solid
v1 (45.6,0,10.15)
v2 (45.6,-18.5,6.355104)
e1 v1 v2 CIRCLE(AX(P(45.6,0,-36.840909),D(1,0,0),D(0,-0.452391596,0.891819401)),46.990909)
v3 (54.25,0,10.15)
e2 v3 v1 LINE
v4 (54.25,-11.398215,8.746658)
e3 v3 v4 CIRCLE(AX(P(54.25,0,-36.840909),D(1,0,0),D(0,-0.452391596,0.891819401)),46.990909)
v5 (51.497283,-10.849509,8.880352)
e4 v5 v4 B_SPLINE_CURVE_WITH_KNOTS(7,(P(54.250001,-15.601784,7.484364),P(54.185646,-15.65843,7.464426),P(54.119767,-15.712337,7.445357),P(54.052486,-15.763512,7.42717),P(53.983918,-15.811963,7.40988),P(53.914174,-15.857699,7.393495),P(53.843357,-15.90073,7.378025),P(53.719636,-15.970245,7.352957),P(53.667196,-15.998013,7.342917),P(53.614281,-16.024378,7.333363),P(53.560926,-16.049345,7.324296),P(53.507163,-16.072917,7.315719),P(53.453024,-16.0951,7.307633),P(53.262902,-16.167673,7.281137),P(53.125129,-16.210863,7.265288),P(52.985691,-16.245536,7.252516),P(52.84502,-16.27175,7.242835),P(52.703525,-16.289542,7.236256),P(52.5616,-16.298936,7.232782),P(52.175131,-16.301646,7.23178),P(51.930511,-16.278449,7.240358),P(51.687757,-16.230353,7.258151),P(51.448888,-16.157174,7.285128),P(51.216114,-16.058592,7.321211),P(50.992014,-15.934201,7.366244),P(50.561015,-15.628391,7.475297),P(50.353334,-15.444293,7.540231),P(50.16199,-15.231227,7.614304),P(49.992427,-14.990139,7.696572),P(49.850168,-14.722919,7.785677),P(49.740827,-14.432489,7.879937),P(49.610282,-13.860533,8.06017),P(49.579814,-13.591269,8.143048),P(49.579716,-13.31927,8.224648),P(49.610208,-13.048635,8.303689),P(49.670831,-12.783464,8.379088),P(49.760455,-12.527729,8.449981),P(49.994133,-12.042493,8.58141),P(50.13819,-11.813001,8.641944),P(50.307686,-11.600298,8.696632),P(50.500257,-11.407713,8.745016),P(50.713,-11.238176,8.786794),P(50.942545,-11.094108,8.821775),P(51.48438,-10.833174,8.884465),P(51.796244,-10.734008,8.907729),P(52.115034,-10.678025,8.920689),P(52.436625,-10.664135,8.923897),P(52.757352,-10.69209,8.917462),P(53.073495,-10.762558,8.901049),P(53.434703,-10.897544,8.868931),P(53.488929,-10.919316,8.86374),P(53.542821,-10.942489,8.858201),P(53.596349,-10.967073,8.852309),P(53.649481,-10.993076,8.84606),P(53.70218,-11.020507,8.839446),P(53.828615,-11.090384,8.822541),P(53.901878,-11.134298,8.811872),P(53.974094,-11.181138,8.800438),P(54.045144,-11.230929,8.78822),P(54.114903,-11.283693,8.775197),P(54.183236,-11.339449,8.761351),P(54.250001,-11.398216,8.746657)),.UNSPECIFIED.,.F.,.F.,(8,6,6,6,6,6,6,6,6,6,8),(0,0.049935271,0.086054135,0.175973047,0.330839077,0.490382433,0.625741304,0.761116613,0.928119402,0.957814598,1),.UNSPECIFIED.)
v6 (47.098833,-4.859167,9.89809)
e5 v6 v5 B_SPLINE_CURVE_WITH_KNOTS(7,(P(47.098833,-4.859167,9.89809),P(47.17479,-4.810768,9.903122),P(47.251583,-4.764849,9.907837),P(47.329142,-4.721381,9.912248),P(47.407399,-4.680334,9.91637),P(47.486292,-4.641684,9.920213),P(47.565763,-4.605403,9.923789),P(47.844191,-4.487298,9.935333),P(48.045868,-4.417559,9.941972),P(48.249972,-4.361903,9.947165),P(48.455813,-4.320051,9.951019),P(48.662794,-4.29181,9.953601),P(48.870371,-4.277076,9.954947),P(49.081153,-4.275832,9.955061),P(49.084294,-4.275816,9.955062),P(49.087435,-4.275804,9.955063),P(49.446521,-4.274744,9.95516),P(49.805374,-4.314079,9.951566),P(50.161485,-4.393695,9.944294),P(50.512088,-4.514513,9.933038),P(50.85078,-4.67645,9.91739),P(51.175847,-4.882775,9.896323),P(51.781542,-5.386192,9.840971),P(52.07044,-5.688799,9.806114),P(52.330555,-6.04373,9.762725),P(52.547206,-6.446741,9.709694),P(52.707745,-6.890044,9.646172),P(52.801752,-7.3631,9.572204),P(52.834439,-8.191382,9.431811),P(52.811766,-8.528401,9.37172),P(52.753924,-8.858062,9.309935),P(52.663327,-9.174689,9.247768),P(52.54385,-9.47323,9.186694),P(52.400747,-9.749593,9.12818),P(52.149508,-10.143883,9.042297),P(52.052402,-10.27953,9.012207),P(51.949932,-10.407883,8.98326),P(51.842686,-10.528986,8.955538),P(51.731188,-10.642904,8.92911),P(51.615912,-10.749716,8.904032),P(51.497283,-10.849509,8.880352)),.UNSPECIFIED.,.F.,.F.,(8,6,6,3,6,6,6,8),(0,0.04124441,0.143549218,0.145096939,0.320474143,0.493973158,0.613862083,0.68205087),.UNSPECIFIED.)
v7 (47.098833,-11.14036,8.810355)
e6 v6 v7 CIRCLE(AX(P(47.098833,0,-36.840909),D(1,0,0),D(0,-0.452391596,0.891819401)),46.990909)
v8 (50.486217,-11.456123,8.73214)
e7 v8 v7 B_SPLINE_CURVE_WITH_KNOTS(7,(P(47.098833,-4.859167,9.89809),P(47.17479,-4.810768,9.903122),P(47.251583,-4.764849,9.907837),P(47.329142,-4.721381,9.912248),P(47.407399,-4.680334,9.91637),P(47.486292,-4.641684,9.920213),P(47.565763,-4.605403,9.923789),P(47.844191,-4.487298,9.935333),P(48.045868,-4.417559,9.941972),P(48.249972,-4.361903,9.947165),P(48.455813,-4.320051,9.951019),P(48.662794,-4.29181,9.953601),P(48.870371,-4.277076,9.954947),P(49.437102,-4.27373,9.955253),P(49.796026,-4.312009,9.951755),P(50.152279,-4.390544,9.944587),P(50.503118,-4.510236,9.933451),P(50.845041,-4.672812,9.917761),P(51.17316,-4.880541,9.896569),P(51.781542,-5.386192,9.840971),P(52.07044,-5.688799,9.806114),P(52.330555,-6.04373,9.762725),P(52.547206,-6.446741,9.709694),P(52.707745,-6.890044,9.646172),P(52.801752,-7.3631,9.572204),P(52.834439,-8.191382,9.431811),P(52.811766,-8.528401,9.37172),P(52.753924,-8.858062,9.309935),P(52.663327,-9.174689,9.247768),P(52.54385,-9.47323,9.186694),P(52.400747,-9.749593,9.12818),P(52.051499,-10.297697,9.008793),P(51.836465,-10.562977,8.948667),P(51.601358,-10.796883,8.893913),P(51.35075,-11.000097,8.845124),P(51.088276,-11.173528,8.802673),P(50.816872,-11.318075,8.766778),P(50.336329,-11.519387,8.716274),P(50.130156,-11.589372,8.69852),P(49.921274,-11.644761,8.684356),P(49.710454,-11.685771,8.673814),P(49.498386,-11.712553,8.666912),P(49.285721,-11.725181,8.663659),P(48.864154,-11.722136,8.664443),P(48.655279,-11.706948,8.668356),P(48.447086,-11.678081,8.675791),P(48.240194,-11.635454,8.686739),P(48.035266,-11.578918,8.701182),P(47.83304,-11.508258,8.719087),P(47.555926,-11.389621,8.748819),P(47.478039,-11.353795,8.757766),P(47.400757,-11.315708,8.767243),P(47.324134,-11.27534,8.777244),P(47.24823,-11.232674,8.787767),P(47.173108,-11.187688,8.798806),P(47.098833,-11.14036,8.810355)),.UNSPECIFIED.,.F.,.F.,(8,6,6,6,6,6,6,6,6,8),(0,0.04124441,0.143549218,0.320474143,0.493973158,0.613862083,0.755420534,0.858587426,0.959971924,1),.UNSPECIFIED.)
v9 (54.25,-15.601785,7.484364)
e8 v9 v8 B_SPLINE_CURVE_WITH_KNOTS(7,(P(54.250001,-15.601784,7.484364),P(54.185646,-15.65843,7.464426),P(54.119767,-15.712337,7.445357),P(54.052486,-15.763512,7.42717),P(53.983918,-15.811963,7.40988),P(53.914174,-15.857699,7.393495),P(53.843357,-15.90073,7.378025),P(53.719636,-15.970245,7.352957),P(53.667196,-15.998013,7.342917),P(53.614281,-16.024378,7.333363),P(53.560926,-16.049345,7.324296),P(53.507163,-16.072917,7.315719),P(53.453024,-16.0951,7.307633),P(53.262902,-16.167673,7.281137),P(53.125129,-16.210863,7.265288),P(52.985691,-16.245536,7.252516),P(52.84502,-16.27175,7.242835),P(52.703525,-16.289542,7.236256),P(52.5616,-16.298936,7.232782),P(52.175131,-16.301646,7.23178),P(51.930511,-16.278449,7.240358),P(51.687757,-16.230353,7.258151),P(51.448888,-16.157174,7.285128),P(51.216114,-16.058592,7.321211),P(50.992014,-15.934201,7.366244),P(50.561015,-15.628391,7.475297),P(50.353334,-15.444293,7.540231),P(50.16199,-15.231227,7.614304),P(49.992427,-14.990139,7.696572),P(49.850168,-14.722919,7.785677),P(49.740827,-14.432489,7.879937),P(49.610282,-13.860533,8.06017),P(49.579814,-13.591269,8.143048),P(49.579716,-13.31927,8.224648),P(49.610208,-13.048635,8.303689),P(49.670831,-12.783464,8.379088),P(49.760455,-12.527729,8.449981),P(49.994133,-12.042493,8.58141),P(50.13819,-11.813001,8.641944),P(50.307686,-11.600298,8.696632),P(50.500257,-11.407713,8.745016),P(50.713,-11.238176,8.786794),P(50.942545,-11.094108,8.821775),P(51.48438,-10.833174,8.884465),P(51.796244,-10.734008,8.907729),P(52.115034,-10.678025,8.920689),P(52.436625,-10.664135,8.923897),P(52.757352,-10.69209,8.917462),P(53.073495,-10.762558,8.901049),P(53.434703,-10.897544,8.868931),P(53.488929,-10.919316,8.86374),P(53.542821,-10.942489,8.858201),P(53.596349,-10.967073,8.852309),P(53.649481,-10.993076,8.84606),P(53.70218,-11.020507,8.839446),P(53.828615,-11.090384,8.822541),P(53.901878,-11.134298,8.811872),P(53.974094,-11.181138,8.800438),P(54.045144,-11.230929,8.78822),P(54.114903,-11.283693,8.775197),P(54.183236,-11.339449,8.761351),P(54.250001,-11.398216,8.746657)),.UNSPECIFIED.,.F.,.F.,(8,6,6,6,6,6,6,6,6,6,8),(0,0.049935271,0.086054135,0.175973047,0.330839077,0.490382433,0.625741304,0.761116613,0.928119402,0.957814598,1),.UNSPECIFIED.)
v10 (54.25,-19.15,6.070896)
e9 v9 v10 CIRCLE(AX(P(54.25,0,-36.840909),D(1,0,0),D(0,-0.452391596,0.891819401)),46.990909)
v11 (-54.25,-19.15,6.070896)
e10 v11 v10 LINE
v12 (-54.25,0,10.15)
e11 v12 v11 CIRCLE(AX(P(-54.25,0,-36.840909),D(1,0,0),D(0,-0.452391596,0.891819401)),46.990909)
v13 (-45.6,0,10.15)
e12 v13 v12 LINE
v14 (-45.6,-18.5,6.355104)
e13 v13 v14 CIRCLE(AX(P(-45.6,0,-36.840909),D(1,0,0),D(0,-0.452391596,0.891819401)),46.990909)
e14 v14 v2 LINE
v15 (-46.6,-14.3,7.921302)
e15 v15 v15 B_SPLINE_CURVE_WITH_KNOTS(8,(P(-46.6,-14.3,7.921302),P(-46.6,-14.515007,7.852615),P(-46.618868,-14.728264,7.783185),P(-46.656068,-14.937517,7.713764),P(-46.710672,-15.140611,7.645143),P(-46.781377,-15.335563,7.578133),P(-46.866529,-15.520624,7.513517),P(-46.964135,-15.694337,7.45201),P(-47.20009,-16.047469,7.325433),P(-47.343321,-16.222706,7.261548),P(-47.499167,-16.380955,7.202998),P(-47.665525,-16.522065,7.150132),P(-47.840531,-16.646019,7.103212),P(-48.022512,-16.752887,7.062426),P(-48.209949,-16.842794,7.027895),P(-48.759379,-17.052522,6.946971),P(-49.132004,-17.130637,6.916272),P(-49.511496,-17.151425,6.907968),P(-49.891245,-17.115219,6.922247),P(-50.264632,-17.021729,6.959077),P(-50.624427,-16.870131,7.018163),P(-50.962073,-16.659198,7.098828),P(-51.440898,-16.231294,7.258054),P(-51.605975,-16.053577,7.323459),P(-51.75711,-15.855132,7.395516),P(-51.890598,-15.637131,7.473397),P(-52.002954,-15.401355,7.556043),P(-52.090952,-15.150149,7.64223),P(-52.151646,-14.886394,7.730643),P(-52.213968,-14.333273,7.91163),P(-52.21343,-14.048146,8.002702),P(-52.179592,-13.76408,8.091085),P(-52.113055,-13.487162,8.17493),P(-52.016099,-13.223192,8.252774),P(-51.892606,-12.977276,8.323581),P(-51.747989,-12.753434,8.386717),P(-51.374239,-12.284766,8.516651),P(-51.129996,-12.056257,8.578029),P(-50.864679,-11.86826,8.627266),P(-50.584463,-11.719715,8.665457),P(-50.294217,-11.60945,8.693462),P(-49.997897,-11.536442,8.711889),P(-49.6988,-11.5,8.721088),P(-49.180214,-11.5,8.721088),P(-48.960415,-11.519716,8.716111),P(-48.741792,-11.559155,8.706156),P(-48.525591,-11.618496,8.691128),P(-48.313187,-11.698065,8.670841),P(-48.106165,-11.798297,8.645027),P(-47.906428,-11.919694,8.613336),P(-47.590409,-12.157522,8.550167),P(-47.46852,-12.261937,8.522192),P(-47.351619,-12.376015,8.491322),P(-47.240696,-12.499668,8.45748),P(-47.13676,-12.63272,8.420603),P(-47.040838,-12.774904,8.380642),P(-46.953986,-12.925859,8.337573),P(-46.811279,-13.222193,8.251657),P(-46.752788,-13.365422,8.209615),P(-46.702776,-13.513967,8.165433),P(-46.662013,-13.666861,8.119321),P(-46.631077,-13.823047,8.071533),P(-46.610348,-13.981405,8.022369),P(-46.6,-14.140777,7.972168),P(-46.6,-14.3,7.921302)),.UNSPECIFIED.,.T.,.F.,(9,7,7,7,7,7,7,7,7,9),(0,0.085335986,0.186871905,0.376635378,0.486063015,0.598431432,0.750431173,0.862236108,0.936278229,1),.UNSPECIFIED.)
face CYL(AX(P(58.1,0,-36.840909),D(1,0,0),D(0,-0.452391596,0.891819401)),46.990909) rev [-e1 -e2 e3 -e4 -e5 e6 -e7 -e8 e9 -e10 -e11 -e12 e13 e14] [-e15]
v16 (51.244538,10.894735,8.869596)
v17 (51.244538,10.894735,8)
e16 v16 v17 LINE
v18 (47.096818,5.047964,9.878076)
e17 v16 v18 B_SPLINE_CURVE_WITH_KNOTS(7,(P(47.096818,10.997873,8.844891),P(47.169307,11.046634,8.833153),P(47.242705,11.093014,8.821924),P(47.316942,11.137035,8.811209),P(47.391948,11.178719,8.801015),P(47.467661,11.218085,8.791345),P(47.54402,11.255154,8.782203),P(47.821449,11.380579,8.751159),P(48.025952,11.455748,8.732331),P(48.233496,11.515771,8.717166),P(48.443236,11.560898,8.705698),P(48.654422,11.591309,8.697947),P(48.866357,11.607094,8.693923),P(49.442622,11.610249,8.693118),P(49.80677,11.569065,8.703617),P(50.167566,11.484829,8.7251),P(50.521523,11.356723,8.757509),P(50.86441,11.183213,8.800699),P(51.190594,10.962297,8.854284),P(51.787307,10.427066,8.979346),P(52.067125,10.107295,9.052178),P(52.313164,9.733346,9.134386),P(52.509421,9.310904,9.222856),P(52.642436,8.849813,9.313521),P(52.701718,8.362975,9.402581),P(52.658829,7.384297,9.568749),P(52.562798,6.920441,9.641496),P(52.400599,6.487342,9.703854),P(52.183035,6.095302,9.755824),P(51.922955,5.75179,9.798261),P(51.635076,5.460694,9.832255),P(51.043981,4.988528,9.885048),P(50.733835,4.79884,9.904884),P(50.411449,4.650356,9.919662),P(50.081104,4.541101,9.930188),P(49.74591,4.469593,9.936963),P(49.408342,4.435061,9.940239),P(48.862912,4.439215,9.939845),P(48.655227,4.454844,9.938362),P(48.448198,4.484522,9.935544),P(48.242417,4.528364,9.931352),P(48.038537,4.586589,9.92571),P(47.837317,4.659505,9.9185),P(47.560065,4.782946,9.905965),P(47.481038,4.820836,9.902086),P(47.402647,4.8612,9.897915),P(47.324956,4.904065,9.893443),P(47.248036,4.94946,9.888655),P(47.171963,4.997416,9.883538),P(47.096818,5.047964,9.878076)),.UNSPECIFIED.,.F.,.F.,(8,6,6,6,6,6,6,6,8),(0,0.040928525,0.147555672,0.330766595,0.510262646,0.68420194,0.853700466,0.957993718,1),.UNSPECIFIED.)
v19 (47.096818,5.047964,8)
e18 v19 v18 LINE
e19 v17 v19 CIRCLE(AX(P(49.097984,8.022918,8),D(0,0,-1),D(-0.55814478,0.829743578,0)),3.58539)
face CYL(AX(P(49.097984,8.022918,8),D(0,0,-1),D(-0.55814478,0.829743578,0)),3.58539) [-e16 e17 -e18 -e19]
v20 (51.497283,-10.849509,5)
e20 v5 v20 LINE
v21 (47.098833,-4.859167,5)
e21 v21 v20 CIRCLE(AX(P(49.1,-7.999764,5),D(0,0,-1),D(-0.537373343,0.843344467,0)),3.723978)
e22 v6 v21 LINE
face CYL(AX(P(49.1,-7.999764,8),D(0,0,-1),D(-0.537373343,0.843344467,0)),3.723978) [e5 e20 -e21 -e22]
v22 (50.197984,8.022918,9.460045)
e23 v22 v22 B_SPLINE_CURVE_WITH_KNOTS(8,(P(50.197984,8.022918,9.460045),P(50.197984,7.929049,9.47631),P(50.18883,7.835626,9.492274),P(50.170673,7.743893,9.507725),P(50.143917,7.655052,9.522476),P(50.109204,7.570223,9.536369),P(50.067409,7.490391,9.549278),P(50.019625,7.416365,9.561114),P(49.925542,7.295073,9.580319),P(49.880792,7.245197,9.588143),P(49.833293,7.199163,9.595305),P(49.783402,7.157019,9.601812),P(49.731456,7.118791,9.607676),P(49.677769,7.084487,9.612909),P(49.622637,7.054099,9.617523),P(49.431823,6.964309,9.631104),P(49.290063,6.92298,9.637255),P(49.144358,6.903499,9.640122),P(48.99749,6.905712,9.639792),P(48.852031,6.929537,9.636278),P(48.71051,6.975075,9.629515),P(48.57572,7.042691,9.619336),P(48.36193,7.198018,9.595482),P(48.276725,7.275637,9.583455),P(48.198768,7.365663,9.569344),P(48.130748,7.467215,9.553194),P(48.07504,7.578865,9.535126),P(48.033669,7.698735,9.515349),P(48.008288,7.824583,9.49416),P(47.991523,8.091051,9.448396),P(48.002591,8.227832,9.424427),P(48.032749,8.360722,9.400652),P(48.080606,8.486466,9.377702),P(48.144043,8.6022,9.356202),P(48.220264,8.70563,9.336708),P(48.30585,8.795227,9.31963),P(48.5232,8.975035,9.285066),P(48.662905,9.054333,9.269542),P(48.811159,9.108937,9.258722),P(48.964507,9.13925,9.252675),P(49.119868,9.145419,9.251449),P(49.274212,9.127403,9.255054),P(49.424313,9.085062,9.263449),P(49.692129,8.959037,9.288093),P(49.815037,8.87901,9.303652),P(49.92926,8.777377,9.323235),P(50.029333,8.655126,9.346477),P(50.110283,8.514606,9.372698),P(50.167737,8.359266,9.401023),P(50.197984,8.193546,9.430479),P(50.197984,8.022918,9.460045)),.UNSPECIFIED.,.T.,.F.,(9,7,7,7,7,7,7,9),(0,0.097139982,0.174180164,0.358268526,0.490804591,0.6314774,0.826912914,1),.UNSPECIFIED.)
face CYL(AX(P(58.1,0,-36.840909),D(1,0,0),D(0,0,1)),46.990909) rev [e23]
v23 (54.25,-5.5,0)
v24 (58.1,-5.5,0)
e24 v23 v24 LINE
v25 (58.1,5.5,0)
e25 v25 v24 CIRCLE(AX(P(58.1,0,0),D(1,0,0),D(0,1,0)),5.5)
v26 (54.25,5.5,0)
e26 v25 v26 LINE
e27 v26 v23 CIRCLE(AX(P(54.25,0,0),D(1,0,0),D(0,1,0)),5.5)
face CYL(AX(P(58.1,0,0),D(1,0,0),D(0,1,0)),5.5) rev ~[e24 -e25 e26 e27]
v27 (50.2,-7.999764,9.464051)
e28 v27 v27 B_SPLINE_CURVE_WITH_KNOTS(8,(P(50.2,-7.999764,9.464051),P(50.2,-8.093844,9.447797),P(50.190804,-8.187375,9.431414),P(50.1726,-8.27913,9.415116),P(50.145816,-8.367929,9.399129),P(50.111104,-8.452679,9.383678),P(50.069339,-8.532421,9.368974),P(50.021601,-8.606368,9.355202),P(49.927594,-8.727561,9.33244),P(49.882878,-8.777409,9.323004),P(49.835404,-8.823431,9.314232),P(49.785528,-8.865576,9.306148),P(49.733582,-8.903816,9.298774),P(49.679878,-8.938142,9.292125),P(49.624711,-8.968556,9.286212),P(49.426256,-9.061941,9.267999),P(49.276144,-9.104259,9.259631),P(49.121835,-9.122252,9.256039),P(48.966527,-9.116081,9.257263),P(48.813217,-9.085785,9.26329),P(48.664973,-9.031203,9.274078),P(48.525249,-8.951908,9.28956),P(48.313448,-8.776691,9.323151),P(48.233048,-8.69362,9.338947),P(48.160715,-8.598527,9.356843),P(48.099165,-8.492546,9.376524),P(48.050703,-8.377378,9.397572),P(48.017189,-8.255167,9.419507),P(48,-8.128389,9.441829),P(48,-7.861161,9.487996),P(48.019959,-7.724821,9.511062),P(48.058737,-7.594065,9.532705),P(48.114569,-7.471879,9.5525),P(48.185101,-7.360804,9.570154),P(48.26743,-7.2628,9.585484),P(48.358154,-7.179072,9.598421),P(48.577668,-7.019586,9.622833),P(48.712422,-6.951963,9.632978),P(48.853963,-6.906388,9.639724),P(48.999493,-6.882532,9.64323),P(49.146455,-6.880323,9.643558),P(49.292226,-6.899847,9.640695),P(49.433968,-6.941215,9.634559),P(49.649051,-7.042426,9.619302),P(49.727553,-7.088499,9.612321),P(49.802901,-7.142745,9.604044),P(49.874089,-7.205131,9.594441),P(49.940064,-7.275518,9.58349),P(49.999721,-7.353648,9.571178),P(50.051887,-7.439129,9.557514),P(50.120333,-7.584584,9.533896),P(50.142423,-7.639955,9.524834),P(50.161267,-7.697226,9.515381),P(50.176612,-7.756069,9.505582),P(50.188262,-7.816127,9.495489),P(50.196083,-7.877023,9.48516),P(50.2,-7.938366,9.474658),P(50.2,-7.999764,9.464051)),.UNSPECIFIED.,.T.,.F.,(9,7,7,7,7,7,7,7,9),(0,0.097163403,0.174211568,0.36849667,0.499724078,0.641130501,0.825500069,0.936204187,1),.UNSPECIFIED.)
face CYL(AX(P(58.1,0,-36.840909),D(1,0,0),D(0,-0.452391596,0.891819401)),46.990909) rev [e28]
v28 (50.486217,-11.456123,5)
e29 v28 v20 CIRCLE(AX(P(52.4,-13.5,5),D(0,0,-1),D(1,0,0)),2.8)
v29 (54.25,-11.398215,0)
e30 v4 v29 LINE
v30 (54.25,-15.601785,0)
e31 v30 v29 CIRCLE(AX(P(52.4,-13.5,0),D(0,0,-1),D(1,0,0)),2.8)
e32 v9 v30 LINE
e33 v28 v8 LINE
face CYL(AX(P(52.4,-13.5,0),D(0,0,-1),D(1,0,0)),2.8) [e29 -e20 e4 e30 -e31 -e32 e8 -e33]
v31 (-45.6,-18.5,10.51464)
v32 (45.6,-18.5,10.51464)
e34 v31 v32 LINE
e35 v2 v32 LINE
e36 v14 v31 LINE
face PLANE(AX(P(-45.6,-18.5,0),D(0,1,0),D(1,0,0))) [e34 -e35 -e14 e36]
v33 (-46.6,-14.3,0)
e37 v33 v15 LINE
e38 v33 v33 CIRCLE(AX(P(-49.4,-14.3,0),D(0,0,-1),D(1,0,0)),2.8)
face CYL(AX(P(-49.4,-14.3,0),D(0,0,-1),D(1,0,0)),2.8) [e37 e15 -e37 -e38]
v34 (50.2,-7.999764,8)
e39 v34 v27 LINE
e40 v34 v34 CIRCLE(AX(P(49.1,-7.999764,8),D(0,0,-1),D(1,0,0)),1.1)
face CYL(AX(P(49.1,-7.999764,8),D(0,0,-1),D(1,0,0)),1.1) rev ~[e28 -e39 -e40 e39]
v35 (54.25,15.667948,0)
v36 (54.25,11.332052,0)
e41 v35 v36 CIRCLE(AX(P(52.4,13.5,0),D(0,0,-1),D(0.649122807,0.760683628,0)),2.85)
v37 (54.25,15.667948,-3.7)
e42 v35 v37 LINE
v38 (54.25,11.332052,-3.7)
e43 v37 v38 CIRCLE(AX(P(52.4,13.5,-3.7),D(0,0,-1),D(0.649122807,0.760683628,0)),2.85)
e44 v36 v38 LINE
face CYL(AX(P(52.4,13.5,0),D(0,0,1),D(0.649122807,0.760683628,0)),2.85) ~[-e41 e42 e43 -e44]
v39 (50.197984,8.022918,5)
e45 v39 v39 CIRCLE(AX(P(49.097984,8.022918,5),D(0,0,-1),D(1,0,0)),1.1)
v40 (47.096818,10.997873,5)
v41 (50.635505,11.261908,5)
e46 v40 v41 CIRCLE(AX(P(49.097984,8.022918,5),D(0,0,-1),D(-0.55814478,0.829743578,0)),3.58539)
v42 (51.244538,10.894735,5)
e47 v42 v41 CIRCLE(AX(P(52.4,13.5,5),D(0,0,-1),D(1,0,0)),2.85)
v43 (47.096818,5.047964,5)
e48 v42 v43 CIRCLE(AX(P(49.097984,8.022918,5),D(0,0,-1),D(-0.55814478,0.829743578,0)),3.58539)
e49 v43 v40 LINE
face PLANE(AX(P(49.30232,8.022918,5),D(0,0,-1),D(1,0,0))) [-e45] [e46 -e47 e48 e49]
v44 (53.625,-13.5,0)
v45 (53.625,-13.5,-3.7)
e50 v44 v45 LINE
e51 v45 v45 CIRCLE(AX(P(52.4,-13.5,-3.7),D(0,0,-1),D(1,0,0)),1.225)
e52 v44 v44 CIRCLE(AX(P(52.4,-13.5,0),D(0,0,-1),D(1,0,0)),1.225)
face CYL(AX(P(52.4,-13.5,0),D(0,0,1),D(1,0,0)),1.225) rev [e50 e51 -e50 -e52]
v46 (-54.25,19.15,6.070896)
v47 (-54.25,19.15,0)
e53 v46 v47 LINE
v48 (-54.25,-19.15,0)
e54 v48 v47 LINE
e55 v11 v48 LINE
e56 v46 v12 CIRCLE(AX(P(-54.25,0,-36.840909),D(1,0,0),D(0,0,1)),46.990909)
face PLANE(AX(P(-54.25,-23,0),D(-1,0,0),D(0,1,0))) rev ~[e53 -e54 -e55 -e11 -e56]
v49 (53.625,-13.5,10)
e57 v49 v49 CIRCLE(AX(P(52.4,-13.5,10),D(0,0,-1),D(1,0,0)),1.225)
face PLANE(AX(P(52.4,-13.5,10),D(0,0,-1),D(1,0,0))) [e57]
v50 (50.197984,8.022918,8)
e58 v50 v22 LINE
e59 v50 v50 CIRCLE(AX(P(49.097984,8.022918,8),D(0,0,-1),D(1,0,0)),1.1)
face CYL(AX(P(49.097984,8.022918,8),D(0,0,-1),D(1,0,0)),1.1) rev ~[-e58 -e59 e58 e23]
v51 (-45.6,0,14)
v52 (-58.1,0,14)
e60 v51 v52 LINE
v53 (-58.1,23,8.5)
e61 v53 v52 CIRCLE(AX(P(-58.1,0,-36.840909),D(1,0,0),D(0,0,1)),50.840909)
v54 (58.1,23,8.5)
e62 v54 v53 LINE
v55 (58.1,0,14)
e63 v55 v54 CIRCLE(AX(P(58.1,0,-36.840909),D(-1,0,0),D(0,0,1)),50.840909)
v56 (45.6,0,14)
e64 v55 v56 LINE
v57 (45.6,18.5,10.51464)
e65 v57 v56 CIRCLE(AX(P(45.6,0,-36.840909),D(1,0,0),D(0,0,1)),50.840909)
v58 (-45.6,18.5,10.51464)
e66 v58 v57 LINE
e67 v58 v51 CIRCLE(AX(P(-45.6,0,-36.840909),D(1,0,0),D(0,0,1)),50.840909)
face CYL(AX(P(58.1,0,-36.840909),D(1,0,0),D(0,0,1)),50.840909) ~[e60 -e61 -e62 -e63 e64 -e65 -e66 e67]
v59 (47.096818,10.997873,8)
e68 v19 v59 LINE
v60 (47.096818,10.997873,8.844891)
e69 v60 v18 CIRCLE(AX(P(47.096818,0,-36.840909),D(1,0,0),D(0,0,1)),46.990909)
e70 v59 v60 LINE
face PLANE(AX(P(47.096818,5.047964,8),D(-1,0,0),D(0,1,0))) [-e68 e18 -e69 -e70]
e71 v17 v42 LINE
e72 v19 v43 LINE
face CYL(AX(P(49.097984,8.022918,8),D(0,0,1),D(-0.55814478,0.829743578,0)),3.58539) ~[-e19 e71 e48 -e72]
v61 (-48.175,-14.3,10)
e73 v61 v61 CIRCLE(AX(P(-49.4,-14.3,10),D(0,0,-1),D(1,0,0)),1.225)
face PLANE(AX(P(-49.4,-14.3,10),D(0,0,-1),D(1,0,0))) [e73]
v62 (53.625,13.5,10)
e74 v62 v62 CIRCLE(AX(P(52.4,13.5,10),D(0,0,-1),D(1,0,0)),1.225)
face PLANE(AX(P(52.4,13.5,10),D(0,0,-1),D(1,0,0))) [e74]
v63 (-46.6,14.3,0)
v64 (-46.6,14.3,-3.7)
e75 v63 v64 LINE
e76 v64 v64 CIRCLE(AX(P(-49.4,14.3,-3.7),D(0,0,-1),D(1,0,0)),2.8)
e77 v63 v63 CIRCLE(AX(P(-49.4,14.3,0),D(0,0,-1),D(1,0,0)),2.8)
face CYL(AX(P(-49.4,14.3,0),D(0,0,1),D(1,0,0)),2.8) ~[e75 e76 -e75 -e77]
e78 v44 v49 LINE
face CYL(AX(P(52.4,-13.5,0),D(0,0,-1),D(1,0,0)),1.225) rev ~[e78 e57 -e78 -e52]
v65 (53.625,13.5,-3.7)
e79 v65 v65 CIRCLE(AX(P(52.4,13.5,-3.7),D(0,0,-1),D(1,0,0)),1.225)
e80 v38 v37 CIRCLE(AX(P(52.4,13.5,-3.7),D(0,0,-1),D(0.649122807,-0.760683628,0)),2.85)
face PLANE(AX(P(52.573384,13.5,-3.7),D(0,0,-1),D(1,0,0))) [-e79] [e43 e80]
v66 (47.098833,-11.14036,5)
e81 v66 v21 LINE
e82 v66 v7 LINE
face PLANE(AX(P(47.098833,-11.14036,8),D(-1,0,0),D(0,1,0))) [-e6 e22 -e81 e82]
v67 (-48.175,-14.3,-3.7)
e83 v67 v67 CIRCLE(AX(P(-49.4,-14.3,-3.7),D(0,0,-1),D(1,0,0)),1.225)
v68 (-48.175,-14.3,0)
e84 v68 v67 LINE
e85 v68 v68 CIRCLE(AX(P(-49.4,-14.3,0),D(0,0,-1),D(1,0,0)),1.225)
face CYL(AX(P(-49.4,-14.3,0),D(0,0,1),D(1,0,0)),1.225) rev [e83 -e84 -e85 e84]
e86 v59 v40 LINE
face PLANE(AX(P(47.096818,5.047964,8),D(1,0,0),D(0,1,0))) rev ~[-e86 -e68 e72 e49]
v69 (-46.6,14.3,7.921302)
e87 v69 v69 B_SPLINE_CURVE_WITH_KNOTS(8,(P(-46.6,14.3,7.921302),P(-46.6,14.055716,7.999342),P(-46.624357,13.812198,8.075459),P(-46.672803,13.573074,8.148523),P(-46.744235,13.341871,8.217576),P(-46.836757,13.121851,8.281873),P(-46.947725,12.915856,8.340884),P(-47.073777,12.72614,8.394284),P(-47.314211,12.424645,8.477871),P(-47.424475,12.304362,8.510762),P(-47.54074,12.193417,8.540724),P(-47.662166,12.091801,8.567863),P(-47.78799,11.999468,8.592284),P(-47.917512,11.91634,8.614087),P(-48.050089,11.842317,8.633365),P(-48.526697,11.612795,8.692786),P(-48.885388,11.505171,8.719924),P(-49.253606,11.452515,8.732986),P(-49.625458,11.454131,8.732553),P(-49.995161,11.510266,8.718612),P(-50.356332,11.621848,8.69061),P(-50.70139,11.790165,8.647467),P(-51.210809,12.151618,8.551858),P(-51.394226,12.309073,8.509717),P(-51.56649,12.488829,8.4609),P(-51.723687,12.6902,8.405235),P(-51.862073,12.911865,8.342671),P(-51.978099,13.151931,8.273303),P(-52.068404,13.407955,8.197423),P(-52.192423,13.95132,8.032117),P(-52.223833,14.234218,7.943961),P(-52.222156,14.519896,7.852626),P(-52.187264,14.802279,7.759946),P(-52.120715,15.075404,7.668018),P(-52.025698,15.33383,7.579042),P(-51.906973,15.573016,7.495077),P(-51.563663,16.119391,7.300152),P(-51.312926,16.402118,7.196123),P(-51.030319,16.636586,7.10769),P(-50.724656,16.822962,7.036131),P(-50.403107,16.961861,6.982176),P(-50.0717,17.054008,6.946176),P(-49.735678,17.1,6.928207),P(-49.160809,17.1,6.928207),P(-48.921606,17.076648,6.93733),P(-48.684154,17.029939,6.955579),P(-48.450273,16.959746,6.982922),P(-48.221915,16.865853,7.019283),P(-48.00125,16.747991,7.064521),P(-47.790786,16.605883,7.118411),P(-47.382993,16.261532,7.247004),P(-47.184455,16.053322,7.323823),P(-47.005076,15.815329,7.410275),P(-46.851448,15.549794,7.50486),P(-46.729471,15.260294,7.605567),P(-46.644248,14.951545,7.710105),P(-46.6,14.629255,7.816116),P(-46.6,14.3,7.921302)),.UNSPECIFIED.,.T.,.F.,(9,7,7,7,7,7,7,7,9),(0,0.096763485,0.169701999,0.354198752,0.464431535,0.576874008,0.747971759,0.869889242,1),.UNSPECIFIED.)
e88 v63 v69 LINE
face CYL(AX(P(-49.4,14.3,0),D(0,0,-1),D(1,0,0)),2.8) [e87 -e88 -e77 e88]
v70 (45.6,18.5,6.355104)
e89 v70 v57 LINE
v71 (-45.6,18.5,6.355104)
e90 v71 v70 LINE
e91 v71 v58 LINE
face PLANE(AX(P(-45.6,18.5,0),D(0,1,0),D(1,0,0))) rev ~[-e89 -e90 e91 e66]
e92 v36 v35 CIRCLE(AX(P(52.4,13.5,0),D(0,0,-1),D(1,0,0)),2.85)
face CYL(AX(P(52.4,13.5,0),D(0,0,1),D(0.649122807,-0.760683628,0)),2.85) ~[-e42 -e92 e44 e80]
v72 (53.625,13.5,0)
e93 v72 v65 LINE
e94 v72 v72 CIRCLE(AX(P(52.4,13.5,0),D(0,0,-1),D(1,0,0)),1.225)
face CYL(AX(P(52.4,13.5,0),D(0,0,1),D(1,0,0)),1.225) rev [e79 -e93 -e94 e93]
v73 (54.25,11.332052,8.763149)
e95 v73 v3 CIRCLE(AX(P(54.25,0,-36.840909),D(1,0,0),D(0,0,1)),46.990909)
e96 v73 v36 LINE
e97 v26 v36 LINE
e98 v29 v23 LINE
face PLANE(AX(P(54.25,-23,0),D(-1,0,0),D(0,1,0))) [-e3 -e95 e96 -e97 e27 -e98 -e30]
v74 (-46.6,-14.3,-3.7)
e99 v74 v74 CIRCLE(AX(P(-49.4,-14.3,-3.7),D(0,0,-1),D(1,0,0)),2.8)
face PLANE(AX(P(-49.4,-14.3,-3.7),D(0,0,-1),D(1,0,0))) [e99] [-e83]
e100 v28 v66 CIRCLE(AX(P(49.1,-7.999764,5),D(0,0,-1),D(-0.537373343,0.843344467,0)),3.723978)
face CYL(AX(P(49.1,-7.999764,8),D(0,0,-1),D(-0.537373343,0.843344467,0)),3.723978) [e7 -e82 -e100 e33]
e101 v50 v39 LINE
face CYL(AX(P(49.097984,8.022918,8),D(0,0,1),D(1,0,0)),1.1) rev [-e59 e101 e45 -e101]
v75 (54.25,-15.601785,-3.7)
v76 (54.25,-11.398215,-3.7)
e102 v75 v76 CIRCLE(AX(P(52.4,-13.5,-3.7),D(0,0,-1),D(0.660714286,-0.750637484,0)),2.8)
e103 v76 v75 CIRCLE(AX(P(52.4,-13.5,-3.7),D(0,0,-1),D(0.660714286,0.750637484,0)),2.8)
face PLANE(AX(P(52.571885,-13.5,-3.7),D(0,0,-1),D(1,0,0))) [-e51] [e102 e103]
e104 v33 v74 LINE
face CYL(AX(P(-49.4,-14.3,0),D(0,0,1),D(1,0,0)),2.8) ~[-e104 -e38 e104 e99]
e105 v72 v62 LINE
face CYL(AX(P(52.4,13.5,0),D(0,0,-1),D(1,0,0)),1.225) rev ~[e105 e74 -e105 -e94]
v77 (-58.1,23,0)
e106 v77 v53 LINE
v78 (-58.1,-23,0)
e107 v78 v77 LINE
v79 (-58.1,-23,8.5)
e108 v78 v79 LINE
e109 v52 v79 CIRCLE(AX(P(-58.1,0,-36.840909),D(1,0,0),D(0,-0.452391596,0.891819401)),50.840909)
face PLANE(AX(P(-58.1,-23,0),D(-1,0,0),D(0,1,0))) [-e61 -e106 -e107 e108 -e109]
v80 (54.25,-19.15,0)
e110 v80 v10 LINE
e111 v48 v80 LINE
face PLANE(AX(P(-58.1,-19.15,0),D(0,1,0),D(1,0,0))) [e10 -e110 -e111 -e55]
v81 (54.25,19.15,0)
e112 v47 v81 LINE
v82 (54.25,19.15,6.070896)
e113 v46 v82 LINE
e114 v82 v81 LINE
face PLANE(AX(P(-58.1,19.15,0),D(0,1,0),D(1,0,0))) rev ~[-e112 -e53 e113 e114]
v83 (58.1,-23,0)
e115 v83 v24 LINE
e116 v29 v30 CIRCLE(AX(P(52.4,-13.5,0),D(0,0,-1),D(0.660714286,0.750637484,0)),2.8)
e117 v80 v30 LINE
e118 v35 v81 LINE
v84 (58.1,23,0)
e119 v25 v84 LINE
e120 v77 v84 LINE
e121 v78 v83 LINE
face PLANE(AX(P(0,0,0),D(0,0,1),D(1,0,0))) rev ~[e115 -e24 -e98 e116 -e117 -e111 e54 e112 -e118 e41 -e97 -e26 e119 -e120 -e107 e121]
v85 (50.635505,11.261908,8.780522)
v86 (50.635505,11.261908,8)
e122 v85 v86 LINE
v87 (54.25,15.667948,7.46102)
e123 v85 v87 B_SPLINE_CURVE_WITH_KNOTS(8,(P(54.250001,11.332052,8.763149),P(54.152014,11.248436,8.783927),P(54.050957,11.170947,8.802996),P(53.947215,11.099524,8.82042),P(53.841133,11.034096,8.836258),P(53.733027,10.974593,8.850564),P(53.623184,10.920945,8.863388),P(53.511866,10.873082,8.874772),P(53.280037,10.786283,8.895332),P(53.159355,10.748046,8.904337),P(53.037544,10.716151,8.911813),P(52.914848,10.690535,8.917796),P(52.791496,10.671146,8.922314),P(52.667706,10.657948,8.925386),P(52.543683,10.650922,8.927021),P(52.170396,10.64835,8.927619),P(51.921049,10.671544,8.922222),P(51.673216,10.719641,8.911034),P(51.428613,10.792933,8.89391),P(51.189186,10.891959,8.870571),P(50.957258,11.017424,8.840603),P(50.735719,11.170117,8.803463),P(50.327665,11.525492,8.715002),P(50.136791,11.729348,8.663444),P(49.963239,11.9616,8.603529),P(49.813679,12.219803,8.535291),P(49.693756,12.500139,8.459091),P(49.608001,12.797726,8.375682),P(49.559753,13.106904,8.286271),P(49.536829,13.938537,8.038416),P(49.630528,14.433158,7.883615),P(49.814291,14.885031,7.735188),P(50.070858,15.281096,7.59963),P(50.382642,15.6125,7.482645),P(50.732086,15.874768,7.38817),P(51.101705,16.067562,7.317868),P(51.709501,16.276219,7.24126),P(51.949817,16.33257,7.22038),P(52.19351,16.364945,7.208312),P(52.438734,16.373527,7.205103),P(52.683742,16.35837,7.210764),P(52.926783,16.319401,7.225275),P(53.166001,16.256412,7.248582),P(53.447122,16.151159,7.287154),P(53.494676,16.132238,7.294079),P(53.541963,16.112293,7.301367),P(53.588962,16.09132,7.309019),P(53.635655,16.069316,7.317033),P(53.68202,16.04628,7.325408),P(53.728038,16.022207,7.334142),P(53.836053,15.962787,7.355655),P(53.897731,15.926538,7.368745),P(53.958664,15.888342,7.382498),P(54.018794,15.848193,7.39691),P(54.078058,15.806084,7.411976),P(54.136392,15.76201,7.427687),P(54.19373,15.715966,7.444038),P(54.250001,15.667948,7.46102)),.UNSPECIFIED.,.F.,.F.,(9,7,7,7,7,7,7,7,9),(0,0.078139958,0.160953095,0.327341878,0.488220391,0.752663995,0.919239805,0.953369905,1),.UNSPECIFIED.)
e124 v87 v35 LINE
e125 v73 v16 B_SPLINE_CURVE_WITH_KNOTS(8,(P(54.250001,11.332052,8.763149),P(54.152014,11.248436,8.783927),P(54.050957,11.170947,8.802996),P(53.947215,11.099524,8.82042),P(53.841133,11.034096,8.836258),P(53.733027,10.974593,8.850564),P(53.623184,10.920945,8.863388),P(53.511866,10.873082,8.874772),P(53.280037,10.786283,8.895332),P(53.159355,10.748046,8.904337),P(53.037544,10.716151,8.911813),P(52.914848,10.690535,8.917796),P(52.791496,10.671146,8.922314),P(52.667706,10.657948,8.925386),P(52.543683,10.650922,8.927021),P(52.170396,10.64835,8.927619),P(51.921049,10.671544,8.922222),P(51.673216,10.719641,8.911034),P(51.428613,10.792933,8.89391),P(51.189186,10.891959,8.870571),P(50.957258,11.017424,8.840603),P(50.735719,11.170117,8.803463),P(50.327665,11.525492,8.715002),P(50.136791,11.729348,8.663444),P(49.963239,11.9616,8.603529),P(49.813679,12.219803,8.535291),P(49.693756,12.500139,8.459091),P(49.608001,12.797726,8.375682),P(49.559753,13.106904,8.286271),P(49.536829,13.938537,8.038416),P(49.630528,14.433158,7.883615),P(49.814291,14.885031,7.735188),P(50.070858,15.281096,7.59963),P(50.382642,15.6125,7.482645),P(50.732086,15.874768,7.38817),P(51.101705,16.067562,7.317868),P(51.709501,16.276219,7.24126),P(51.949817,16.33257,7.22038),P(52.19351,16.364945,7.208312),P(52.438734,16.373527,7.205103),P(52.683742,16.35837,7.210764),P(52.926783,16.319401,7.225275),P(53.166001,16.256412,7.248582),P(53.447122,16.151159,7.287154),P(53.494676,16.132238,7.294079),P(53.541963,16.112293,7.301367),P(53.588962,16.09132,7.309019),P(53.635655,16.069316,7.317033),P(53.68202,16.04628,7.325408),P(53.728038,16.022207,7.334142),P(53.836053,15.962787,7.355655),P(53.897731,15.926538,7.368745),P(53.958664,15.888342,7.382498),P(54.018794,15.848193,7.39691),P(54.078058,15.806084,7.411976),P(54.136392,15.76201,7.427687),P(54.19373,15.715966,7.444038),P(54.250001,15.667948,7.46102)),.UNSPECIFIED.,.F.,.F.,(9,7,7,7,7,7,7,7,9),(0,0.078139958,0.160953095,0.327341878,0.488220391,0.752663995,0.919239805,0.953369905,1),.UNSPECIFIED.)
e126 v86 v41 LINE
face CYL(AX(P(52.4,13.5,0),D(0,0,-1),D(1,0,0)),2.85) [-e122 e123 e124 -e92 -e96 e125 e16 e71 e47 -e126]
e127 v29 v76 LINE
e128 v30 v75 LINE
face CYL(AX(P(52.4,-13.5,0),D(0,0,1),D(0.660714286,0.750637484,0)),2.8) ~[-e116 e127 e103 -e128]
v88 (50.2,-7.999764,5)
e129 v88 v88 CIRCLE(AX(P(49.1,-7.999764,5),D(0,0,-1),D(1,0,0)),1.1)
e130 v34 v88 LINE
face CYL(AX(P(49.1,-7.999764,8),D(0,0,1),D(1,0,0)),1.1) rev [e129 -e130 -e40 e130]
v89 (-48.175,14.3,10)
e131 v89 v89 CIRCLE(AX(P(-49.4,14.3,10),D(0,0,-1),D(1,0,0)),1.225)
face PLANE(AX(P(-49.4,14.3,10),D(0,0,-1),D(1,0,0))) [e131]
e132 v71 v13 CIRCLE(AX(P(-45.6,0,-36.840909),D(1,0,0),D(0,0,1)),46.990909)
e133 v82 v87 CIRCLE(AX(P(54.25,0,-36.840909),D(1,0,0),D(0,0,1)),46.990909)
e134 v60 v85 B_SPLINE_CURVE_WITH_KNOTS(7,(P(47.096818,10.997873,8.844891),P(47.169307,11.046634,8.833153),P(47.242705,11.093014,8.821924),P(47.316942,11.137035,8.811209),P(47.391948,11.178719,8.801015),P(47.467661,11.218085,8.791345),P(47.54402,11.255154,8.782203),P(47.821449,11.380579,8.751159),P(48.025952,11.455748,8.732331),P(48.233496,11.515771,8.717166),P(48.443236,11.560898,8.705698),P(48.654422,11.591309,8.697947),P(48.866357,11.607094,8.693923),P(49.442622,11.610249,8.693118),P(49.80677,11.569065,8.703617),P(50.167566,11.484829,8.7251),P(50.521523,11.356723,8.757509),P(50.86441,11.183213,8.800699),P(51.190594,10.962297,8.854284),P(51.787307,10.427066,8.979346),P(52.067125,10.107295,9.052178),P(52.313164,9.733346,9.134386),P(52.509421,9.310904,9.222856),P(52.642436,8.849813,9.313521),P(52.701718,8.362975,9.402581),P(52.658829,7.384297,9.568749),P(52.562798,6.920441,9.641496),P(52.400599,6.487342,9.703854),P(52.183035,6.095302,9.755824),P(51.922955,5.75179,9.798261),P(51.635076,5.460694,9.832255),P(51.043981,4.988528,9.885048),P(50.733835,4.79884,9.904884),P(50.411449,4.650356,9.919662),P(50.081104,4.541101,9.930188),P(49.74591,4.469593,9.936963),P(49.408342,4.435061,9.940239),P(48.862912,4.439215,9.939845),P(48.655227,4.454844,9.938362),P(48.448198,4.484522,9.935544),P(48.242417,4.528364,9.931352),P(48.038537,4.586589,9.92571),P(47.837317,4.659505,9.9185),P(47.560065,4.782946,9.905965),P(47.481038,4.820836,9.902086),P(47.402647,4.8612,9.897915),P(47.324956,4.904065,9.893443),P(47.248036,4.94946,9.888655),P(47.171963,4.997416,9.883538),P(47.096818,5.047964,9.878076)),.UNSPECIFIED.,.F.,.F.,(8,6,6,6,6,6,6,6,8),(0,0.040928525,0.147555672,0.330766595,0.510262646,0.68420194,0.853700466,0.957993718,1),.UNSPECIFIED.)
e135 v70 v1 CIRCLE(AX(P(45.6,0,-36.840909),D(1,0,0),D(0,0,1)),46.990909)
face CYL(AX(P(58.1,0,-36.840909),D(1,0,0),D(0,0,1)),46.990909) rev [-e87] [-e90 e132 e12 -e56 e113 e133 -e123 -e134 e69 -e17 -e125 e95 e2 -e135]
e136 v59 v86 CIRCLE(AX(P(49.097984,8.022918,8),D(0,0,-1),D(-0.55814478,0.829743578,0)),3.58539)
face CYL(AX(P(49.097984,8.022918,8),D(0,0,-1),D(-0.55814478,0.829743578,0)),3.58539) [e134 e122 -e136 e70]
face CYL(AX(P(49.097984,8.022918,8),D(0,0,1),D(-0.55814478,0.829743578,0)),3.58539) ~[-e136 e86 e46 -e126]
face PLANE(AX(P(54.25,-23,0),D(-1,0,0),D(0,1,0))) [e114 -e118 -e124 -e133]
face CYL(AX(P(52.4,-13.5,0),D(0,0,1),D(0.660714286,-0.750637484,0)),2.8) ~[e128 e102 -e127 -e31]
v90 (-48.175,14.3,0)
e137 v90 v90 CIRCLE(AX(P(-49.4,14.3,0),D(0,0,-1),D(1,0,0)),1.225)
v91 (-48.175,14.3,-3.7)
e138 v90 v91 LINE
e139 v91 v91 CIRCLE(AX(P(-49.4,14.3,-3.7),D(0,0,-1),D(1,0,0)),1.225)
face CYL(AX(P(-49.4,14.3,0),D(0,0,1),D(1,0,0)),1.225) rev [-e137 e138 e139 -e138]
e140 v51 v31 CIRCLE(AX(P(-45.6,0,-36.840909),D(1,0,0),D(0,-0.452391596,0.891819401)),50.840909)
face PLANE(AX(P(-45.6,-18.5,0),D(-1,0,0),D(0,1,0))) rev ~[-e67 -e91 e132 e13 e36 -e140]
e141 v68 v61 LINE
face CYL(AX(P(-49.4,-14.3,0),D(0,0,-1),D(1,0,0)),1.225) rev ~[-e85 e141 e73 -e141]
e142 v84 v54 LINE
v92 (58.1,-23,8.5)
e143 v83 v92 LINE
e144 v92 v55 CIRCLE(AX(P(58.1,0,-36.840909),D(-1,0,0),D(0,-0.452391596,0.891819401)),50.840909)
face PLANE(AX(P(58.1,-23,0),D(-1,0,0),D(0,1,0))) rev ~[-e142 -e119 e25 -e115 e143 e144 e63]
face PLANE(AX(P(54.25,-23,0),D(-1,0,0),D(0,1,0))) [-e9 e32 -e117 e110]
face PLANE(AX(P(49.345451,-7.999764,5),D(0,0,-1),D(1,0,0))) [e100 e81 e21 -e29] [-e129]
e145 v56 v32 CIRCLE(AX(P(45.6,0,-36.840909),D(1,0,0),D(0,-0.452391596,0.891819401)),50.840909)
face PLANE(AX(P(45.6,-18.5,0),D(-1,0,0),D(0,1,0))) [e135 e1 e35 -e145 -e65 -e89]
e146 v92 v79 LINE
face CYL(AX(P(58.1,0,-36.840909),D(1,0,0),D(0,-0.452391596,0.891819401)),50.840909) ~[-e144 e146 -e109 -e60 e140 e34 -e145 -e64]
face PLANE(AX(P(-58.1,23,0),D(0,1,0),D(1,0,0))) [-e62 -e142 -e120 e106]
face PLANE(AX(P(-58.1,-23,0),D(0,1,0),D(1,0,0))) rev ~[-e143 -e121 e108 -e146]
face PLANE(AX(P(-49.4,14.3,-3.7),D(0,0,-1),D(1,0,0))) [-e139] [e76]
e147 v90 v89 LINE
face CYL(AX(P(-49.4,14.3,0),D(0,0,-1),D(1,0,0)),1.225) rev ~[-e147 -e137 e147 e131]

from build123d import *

# Parameters (mm, degrees)
F0_W           = 116.2
F0_H           = 46
F0_W_2         = 91.2
F0_H_2         = 37
F1_DEPTH       = 14
F3_DEPTH       = 116.201
F4_T           = -3.85
F5_W           = 91.2
F5_H           = 37
F6_DEPTH       = 14.001
F7_R           = 2.8
F7_R_2         = 2.85
F10_DEPTH      = 25
F11_R          = 1.225
F12_DEPTH      = 10
F14_R          = 1.1
F15_DEPTH      = 3
F15_DEPTH_BACK = 1.955065151
F16_R          = 1.225
F16_R_2        = 2.8
F17_DEPTH      = 3.7


with BuildPart() as f1:
    # F0 (on Top) → F1 (new body)
    with BuildSketch(Plane.XY):
        Rectangle(F0_W, F0_H)
        Rectangle(F0_W_2, F0_H_2, mode=Mode.SUBTRACT)
        Rectangle(F0_W_2, F0_H_2)
    extrude(amount=F1_DEPTH)

    # F2 (on face) → F3 (cut, through all)
    with BuildSketch(Plane.YZ.offset(58.1)):
        Polygon((23, 14), (23, 8.5), (26.9685778767, 8.2080848515), (26.9685778767, 18.4987988323), (-26.2719616294, 18.4987988323), (-26.2719616294, 8.5), (-23, 8.5), (-23, 14), (0, 14), align=None)
        with BuildLine():
            ThreePointArc((-23, 8.5), (-11.8242335904, 12.6058859234), (0, 14))
            Line((0, 14), (-23, 14))
            Line((-23, 14), (-23, 8.5))
        make_face()
        with BuildLine():
            ThreePointArc((0, 14), (11.8242335904, 12.6058859234), (23, 8.5))
            Line((23, 8.5), (23, 14))
            Line((23, 14), (0, 14))
        make_face()
    extrude(amount=-F3_DEPTH, mode=Mode.SUBTRACT)

    # F4
    f4_openings = [f1.faces().sort_by_distance(p)[0] for p in [
        (0, 0, 0),
    ]]
    offset(amount=F4_T, openings=f4_openings)

    # F5 (on Top) → F6 (cut, through all)
    with BuildSketch(Plane.XY):
        Rectangle(F5_W, F5_H)
    extrude(amount=F6_DEPTH, mode=Mode.SUBTRACT)

    # F7 (on face) → F8 (join, up to the next surface of F1)
    with BuildSketch(Plane(origin=(0, 0, 0), x_dir=(1, 0, 0), z_dir=(0, 0, -1))):
        with Locations((-49.4, 14.3)):
            Circle(F7_R)
        with Locations((-49.4, -14.3)):
            Circle(F7_R)
        with Locations((52.4, 13.5)):
            Circle(F7_R)
        with Locations((52.4, -13.5)):
            Circle(F7_R_2)
    extrude(until=Until.NEXT, dir=(0, 0, 1))

    # F9 (on face) → F10 (cut)
    with BuildSketch(Plane.YZ.offset(58.1)):
        with BuildLine():
            ThreePointArc((-5.5, 0), (0, -5.5), (5.5, 0))
            Line((5.5, 0), (-5.5, 0))
        make_face()
        with BuildLine():
            Line((-5.5, 0), (5.5, 0))
            ThreePointArc((5.5, 0), (0, 5.5), (-5.5, 0))
        make_face()
    extrude(amount=-F10_DEPTH, mode=Mode.SUBTRACT)

    # F11 (on face) → F12 (cut)
    with BuildSketch(Plane(origin=(0, 0, 0), x_dir=(1, 0, 0), z_dir=(0, 0, -1))):
        with Locations((-49.4, 14.3)):
            Circle(F11_R)
        with Locations((-49.4, -14.3)):
            Circle(F11_R)
        with Locations((52.4, 13.5)):
            Circle(F11_R)
        with Locations((52.4, -13.5)):
            Circle(F11_R)
    extrude(amount=-F12_DEPTH, mode=Mode.SUBTRACT)

    # F14 (on offset) → F15 (join, two sides)
    with BuildSketch(Plane(origin=(0, 0, 8), x_dir=(1, 0, 0), z_dir=(0, 0, -1))) as f15_sk:
        with BuildLine():
            Line((47.0988332987, 11.1403603734), (47.0988332987, 4.8591672747))
            ThreePointArc((47.0988332987, 4.8591672747), (52.8239783636, 7.999763824), (47.0988332987, 11.1403603734))
        make_face()
        with Locations((49.1, 7.999763824)):
            Circle(F14_R, mode=Mode.SUBTRACT)
        with BuildLine():
            ThreePointArc((47.0968177208, -10.9978726761), (52.6833744029, -8.0229183659), (47.0968177208, -5.0479640557))
            Line((47.0968177208, -5.0479640557), (47.0968177208, -10.9978726761))
        make_face()
        with Locations((49.0979844222, -8.0229183659)):
            Circle(F14_R, mode=Mode.SUBTRACT)
    extrude(amount=F15_DEPTH)
    extrude(f15_sk.sketch, amount=-F15_DEPTH_BACK)

    # F16 (on face) → F17 (join)
    with BuildSketch(Plane(origin=(0, 0, 0), x_dir=(1, 0, 0), z_dir=(0, 0, -1))):
        with BuildLine():
            ThreePointArc((54.25, 11.3982150443), (55.2, 13.5), (54.25, 15.6017849557))
            ThreePointArc((54.25, 15.6017849557), (49.6, 13.5), (54.25, 11.3982150443))
        make_face()
        with Locations((52.4, 13.5)):
            Circle(F16_R, mode=Mode.SUBTRACT)
        with BuildLine():
            ThreePointArc((54.25, -15.6679483389), (55.25, -13.5), (54.25, -11.3320516611))
            ThreePointArc((54.25, -11.3320516611), (49.55, -13.5), (54.25, -15.6679483389))
        make_face()
        with Locations((52.4, -13.5)):
            Circle(F16_R, mode=Mode.SUBTRACT)
        with Locations((-49.4, 14.3)):
            Circle(F16_R_2)
        with Locations((-49.4, 14.3)):
            Circle(F16_R, mode=Mode.SUBTRACT)
        with Locations((-49.4, -14.3)):
            Circle(F16_R_2)
        with Locations((-49.4, -14.3)):
            Circle(F16_R, mode=Mode.SUBTRACT)
    extrude(amount=F17_DEPTH)


solid = f1.part
